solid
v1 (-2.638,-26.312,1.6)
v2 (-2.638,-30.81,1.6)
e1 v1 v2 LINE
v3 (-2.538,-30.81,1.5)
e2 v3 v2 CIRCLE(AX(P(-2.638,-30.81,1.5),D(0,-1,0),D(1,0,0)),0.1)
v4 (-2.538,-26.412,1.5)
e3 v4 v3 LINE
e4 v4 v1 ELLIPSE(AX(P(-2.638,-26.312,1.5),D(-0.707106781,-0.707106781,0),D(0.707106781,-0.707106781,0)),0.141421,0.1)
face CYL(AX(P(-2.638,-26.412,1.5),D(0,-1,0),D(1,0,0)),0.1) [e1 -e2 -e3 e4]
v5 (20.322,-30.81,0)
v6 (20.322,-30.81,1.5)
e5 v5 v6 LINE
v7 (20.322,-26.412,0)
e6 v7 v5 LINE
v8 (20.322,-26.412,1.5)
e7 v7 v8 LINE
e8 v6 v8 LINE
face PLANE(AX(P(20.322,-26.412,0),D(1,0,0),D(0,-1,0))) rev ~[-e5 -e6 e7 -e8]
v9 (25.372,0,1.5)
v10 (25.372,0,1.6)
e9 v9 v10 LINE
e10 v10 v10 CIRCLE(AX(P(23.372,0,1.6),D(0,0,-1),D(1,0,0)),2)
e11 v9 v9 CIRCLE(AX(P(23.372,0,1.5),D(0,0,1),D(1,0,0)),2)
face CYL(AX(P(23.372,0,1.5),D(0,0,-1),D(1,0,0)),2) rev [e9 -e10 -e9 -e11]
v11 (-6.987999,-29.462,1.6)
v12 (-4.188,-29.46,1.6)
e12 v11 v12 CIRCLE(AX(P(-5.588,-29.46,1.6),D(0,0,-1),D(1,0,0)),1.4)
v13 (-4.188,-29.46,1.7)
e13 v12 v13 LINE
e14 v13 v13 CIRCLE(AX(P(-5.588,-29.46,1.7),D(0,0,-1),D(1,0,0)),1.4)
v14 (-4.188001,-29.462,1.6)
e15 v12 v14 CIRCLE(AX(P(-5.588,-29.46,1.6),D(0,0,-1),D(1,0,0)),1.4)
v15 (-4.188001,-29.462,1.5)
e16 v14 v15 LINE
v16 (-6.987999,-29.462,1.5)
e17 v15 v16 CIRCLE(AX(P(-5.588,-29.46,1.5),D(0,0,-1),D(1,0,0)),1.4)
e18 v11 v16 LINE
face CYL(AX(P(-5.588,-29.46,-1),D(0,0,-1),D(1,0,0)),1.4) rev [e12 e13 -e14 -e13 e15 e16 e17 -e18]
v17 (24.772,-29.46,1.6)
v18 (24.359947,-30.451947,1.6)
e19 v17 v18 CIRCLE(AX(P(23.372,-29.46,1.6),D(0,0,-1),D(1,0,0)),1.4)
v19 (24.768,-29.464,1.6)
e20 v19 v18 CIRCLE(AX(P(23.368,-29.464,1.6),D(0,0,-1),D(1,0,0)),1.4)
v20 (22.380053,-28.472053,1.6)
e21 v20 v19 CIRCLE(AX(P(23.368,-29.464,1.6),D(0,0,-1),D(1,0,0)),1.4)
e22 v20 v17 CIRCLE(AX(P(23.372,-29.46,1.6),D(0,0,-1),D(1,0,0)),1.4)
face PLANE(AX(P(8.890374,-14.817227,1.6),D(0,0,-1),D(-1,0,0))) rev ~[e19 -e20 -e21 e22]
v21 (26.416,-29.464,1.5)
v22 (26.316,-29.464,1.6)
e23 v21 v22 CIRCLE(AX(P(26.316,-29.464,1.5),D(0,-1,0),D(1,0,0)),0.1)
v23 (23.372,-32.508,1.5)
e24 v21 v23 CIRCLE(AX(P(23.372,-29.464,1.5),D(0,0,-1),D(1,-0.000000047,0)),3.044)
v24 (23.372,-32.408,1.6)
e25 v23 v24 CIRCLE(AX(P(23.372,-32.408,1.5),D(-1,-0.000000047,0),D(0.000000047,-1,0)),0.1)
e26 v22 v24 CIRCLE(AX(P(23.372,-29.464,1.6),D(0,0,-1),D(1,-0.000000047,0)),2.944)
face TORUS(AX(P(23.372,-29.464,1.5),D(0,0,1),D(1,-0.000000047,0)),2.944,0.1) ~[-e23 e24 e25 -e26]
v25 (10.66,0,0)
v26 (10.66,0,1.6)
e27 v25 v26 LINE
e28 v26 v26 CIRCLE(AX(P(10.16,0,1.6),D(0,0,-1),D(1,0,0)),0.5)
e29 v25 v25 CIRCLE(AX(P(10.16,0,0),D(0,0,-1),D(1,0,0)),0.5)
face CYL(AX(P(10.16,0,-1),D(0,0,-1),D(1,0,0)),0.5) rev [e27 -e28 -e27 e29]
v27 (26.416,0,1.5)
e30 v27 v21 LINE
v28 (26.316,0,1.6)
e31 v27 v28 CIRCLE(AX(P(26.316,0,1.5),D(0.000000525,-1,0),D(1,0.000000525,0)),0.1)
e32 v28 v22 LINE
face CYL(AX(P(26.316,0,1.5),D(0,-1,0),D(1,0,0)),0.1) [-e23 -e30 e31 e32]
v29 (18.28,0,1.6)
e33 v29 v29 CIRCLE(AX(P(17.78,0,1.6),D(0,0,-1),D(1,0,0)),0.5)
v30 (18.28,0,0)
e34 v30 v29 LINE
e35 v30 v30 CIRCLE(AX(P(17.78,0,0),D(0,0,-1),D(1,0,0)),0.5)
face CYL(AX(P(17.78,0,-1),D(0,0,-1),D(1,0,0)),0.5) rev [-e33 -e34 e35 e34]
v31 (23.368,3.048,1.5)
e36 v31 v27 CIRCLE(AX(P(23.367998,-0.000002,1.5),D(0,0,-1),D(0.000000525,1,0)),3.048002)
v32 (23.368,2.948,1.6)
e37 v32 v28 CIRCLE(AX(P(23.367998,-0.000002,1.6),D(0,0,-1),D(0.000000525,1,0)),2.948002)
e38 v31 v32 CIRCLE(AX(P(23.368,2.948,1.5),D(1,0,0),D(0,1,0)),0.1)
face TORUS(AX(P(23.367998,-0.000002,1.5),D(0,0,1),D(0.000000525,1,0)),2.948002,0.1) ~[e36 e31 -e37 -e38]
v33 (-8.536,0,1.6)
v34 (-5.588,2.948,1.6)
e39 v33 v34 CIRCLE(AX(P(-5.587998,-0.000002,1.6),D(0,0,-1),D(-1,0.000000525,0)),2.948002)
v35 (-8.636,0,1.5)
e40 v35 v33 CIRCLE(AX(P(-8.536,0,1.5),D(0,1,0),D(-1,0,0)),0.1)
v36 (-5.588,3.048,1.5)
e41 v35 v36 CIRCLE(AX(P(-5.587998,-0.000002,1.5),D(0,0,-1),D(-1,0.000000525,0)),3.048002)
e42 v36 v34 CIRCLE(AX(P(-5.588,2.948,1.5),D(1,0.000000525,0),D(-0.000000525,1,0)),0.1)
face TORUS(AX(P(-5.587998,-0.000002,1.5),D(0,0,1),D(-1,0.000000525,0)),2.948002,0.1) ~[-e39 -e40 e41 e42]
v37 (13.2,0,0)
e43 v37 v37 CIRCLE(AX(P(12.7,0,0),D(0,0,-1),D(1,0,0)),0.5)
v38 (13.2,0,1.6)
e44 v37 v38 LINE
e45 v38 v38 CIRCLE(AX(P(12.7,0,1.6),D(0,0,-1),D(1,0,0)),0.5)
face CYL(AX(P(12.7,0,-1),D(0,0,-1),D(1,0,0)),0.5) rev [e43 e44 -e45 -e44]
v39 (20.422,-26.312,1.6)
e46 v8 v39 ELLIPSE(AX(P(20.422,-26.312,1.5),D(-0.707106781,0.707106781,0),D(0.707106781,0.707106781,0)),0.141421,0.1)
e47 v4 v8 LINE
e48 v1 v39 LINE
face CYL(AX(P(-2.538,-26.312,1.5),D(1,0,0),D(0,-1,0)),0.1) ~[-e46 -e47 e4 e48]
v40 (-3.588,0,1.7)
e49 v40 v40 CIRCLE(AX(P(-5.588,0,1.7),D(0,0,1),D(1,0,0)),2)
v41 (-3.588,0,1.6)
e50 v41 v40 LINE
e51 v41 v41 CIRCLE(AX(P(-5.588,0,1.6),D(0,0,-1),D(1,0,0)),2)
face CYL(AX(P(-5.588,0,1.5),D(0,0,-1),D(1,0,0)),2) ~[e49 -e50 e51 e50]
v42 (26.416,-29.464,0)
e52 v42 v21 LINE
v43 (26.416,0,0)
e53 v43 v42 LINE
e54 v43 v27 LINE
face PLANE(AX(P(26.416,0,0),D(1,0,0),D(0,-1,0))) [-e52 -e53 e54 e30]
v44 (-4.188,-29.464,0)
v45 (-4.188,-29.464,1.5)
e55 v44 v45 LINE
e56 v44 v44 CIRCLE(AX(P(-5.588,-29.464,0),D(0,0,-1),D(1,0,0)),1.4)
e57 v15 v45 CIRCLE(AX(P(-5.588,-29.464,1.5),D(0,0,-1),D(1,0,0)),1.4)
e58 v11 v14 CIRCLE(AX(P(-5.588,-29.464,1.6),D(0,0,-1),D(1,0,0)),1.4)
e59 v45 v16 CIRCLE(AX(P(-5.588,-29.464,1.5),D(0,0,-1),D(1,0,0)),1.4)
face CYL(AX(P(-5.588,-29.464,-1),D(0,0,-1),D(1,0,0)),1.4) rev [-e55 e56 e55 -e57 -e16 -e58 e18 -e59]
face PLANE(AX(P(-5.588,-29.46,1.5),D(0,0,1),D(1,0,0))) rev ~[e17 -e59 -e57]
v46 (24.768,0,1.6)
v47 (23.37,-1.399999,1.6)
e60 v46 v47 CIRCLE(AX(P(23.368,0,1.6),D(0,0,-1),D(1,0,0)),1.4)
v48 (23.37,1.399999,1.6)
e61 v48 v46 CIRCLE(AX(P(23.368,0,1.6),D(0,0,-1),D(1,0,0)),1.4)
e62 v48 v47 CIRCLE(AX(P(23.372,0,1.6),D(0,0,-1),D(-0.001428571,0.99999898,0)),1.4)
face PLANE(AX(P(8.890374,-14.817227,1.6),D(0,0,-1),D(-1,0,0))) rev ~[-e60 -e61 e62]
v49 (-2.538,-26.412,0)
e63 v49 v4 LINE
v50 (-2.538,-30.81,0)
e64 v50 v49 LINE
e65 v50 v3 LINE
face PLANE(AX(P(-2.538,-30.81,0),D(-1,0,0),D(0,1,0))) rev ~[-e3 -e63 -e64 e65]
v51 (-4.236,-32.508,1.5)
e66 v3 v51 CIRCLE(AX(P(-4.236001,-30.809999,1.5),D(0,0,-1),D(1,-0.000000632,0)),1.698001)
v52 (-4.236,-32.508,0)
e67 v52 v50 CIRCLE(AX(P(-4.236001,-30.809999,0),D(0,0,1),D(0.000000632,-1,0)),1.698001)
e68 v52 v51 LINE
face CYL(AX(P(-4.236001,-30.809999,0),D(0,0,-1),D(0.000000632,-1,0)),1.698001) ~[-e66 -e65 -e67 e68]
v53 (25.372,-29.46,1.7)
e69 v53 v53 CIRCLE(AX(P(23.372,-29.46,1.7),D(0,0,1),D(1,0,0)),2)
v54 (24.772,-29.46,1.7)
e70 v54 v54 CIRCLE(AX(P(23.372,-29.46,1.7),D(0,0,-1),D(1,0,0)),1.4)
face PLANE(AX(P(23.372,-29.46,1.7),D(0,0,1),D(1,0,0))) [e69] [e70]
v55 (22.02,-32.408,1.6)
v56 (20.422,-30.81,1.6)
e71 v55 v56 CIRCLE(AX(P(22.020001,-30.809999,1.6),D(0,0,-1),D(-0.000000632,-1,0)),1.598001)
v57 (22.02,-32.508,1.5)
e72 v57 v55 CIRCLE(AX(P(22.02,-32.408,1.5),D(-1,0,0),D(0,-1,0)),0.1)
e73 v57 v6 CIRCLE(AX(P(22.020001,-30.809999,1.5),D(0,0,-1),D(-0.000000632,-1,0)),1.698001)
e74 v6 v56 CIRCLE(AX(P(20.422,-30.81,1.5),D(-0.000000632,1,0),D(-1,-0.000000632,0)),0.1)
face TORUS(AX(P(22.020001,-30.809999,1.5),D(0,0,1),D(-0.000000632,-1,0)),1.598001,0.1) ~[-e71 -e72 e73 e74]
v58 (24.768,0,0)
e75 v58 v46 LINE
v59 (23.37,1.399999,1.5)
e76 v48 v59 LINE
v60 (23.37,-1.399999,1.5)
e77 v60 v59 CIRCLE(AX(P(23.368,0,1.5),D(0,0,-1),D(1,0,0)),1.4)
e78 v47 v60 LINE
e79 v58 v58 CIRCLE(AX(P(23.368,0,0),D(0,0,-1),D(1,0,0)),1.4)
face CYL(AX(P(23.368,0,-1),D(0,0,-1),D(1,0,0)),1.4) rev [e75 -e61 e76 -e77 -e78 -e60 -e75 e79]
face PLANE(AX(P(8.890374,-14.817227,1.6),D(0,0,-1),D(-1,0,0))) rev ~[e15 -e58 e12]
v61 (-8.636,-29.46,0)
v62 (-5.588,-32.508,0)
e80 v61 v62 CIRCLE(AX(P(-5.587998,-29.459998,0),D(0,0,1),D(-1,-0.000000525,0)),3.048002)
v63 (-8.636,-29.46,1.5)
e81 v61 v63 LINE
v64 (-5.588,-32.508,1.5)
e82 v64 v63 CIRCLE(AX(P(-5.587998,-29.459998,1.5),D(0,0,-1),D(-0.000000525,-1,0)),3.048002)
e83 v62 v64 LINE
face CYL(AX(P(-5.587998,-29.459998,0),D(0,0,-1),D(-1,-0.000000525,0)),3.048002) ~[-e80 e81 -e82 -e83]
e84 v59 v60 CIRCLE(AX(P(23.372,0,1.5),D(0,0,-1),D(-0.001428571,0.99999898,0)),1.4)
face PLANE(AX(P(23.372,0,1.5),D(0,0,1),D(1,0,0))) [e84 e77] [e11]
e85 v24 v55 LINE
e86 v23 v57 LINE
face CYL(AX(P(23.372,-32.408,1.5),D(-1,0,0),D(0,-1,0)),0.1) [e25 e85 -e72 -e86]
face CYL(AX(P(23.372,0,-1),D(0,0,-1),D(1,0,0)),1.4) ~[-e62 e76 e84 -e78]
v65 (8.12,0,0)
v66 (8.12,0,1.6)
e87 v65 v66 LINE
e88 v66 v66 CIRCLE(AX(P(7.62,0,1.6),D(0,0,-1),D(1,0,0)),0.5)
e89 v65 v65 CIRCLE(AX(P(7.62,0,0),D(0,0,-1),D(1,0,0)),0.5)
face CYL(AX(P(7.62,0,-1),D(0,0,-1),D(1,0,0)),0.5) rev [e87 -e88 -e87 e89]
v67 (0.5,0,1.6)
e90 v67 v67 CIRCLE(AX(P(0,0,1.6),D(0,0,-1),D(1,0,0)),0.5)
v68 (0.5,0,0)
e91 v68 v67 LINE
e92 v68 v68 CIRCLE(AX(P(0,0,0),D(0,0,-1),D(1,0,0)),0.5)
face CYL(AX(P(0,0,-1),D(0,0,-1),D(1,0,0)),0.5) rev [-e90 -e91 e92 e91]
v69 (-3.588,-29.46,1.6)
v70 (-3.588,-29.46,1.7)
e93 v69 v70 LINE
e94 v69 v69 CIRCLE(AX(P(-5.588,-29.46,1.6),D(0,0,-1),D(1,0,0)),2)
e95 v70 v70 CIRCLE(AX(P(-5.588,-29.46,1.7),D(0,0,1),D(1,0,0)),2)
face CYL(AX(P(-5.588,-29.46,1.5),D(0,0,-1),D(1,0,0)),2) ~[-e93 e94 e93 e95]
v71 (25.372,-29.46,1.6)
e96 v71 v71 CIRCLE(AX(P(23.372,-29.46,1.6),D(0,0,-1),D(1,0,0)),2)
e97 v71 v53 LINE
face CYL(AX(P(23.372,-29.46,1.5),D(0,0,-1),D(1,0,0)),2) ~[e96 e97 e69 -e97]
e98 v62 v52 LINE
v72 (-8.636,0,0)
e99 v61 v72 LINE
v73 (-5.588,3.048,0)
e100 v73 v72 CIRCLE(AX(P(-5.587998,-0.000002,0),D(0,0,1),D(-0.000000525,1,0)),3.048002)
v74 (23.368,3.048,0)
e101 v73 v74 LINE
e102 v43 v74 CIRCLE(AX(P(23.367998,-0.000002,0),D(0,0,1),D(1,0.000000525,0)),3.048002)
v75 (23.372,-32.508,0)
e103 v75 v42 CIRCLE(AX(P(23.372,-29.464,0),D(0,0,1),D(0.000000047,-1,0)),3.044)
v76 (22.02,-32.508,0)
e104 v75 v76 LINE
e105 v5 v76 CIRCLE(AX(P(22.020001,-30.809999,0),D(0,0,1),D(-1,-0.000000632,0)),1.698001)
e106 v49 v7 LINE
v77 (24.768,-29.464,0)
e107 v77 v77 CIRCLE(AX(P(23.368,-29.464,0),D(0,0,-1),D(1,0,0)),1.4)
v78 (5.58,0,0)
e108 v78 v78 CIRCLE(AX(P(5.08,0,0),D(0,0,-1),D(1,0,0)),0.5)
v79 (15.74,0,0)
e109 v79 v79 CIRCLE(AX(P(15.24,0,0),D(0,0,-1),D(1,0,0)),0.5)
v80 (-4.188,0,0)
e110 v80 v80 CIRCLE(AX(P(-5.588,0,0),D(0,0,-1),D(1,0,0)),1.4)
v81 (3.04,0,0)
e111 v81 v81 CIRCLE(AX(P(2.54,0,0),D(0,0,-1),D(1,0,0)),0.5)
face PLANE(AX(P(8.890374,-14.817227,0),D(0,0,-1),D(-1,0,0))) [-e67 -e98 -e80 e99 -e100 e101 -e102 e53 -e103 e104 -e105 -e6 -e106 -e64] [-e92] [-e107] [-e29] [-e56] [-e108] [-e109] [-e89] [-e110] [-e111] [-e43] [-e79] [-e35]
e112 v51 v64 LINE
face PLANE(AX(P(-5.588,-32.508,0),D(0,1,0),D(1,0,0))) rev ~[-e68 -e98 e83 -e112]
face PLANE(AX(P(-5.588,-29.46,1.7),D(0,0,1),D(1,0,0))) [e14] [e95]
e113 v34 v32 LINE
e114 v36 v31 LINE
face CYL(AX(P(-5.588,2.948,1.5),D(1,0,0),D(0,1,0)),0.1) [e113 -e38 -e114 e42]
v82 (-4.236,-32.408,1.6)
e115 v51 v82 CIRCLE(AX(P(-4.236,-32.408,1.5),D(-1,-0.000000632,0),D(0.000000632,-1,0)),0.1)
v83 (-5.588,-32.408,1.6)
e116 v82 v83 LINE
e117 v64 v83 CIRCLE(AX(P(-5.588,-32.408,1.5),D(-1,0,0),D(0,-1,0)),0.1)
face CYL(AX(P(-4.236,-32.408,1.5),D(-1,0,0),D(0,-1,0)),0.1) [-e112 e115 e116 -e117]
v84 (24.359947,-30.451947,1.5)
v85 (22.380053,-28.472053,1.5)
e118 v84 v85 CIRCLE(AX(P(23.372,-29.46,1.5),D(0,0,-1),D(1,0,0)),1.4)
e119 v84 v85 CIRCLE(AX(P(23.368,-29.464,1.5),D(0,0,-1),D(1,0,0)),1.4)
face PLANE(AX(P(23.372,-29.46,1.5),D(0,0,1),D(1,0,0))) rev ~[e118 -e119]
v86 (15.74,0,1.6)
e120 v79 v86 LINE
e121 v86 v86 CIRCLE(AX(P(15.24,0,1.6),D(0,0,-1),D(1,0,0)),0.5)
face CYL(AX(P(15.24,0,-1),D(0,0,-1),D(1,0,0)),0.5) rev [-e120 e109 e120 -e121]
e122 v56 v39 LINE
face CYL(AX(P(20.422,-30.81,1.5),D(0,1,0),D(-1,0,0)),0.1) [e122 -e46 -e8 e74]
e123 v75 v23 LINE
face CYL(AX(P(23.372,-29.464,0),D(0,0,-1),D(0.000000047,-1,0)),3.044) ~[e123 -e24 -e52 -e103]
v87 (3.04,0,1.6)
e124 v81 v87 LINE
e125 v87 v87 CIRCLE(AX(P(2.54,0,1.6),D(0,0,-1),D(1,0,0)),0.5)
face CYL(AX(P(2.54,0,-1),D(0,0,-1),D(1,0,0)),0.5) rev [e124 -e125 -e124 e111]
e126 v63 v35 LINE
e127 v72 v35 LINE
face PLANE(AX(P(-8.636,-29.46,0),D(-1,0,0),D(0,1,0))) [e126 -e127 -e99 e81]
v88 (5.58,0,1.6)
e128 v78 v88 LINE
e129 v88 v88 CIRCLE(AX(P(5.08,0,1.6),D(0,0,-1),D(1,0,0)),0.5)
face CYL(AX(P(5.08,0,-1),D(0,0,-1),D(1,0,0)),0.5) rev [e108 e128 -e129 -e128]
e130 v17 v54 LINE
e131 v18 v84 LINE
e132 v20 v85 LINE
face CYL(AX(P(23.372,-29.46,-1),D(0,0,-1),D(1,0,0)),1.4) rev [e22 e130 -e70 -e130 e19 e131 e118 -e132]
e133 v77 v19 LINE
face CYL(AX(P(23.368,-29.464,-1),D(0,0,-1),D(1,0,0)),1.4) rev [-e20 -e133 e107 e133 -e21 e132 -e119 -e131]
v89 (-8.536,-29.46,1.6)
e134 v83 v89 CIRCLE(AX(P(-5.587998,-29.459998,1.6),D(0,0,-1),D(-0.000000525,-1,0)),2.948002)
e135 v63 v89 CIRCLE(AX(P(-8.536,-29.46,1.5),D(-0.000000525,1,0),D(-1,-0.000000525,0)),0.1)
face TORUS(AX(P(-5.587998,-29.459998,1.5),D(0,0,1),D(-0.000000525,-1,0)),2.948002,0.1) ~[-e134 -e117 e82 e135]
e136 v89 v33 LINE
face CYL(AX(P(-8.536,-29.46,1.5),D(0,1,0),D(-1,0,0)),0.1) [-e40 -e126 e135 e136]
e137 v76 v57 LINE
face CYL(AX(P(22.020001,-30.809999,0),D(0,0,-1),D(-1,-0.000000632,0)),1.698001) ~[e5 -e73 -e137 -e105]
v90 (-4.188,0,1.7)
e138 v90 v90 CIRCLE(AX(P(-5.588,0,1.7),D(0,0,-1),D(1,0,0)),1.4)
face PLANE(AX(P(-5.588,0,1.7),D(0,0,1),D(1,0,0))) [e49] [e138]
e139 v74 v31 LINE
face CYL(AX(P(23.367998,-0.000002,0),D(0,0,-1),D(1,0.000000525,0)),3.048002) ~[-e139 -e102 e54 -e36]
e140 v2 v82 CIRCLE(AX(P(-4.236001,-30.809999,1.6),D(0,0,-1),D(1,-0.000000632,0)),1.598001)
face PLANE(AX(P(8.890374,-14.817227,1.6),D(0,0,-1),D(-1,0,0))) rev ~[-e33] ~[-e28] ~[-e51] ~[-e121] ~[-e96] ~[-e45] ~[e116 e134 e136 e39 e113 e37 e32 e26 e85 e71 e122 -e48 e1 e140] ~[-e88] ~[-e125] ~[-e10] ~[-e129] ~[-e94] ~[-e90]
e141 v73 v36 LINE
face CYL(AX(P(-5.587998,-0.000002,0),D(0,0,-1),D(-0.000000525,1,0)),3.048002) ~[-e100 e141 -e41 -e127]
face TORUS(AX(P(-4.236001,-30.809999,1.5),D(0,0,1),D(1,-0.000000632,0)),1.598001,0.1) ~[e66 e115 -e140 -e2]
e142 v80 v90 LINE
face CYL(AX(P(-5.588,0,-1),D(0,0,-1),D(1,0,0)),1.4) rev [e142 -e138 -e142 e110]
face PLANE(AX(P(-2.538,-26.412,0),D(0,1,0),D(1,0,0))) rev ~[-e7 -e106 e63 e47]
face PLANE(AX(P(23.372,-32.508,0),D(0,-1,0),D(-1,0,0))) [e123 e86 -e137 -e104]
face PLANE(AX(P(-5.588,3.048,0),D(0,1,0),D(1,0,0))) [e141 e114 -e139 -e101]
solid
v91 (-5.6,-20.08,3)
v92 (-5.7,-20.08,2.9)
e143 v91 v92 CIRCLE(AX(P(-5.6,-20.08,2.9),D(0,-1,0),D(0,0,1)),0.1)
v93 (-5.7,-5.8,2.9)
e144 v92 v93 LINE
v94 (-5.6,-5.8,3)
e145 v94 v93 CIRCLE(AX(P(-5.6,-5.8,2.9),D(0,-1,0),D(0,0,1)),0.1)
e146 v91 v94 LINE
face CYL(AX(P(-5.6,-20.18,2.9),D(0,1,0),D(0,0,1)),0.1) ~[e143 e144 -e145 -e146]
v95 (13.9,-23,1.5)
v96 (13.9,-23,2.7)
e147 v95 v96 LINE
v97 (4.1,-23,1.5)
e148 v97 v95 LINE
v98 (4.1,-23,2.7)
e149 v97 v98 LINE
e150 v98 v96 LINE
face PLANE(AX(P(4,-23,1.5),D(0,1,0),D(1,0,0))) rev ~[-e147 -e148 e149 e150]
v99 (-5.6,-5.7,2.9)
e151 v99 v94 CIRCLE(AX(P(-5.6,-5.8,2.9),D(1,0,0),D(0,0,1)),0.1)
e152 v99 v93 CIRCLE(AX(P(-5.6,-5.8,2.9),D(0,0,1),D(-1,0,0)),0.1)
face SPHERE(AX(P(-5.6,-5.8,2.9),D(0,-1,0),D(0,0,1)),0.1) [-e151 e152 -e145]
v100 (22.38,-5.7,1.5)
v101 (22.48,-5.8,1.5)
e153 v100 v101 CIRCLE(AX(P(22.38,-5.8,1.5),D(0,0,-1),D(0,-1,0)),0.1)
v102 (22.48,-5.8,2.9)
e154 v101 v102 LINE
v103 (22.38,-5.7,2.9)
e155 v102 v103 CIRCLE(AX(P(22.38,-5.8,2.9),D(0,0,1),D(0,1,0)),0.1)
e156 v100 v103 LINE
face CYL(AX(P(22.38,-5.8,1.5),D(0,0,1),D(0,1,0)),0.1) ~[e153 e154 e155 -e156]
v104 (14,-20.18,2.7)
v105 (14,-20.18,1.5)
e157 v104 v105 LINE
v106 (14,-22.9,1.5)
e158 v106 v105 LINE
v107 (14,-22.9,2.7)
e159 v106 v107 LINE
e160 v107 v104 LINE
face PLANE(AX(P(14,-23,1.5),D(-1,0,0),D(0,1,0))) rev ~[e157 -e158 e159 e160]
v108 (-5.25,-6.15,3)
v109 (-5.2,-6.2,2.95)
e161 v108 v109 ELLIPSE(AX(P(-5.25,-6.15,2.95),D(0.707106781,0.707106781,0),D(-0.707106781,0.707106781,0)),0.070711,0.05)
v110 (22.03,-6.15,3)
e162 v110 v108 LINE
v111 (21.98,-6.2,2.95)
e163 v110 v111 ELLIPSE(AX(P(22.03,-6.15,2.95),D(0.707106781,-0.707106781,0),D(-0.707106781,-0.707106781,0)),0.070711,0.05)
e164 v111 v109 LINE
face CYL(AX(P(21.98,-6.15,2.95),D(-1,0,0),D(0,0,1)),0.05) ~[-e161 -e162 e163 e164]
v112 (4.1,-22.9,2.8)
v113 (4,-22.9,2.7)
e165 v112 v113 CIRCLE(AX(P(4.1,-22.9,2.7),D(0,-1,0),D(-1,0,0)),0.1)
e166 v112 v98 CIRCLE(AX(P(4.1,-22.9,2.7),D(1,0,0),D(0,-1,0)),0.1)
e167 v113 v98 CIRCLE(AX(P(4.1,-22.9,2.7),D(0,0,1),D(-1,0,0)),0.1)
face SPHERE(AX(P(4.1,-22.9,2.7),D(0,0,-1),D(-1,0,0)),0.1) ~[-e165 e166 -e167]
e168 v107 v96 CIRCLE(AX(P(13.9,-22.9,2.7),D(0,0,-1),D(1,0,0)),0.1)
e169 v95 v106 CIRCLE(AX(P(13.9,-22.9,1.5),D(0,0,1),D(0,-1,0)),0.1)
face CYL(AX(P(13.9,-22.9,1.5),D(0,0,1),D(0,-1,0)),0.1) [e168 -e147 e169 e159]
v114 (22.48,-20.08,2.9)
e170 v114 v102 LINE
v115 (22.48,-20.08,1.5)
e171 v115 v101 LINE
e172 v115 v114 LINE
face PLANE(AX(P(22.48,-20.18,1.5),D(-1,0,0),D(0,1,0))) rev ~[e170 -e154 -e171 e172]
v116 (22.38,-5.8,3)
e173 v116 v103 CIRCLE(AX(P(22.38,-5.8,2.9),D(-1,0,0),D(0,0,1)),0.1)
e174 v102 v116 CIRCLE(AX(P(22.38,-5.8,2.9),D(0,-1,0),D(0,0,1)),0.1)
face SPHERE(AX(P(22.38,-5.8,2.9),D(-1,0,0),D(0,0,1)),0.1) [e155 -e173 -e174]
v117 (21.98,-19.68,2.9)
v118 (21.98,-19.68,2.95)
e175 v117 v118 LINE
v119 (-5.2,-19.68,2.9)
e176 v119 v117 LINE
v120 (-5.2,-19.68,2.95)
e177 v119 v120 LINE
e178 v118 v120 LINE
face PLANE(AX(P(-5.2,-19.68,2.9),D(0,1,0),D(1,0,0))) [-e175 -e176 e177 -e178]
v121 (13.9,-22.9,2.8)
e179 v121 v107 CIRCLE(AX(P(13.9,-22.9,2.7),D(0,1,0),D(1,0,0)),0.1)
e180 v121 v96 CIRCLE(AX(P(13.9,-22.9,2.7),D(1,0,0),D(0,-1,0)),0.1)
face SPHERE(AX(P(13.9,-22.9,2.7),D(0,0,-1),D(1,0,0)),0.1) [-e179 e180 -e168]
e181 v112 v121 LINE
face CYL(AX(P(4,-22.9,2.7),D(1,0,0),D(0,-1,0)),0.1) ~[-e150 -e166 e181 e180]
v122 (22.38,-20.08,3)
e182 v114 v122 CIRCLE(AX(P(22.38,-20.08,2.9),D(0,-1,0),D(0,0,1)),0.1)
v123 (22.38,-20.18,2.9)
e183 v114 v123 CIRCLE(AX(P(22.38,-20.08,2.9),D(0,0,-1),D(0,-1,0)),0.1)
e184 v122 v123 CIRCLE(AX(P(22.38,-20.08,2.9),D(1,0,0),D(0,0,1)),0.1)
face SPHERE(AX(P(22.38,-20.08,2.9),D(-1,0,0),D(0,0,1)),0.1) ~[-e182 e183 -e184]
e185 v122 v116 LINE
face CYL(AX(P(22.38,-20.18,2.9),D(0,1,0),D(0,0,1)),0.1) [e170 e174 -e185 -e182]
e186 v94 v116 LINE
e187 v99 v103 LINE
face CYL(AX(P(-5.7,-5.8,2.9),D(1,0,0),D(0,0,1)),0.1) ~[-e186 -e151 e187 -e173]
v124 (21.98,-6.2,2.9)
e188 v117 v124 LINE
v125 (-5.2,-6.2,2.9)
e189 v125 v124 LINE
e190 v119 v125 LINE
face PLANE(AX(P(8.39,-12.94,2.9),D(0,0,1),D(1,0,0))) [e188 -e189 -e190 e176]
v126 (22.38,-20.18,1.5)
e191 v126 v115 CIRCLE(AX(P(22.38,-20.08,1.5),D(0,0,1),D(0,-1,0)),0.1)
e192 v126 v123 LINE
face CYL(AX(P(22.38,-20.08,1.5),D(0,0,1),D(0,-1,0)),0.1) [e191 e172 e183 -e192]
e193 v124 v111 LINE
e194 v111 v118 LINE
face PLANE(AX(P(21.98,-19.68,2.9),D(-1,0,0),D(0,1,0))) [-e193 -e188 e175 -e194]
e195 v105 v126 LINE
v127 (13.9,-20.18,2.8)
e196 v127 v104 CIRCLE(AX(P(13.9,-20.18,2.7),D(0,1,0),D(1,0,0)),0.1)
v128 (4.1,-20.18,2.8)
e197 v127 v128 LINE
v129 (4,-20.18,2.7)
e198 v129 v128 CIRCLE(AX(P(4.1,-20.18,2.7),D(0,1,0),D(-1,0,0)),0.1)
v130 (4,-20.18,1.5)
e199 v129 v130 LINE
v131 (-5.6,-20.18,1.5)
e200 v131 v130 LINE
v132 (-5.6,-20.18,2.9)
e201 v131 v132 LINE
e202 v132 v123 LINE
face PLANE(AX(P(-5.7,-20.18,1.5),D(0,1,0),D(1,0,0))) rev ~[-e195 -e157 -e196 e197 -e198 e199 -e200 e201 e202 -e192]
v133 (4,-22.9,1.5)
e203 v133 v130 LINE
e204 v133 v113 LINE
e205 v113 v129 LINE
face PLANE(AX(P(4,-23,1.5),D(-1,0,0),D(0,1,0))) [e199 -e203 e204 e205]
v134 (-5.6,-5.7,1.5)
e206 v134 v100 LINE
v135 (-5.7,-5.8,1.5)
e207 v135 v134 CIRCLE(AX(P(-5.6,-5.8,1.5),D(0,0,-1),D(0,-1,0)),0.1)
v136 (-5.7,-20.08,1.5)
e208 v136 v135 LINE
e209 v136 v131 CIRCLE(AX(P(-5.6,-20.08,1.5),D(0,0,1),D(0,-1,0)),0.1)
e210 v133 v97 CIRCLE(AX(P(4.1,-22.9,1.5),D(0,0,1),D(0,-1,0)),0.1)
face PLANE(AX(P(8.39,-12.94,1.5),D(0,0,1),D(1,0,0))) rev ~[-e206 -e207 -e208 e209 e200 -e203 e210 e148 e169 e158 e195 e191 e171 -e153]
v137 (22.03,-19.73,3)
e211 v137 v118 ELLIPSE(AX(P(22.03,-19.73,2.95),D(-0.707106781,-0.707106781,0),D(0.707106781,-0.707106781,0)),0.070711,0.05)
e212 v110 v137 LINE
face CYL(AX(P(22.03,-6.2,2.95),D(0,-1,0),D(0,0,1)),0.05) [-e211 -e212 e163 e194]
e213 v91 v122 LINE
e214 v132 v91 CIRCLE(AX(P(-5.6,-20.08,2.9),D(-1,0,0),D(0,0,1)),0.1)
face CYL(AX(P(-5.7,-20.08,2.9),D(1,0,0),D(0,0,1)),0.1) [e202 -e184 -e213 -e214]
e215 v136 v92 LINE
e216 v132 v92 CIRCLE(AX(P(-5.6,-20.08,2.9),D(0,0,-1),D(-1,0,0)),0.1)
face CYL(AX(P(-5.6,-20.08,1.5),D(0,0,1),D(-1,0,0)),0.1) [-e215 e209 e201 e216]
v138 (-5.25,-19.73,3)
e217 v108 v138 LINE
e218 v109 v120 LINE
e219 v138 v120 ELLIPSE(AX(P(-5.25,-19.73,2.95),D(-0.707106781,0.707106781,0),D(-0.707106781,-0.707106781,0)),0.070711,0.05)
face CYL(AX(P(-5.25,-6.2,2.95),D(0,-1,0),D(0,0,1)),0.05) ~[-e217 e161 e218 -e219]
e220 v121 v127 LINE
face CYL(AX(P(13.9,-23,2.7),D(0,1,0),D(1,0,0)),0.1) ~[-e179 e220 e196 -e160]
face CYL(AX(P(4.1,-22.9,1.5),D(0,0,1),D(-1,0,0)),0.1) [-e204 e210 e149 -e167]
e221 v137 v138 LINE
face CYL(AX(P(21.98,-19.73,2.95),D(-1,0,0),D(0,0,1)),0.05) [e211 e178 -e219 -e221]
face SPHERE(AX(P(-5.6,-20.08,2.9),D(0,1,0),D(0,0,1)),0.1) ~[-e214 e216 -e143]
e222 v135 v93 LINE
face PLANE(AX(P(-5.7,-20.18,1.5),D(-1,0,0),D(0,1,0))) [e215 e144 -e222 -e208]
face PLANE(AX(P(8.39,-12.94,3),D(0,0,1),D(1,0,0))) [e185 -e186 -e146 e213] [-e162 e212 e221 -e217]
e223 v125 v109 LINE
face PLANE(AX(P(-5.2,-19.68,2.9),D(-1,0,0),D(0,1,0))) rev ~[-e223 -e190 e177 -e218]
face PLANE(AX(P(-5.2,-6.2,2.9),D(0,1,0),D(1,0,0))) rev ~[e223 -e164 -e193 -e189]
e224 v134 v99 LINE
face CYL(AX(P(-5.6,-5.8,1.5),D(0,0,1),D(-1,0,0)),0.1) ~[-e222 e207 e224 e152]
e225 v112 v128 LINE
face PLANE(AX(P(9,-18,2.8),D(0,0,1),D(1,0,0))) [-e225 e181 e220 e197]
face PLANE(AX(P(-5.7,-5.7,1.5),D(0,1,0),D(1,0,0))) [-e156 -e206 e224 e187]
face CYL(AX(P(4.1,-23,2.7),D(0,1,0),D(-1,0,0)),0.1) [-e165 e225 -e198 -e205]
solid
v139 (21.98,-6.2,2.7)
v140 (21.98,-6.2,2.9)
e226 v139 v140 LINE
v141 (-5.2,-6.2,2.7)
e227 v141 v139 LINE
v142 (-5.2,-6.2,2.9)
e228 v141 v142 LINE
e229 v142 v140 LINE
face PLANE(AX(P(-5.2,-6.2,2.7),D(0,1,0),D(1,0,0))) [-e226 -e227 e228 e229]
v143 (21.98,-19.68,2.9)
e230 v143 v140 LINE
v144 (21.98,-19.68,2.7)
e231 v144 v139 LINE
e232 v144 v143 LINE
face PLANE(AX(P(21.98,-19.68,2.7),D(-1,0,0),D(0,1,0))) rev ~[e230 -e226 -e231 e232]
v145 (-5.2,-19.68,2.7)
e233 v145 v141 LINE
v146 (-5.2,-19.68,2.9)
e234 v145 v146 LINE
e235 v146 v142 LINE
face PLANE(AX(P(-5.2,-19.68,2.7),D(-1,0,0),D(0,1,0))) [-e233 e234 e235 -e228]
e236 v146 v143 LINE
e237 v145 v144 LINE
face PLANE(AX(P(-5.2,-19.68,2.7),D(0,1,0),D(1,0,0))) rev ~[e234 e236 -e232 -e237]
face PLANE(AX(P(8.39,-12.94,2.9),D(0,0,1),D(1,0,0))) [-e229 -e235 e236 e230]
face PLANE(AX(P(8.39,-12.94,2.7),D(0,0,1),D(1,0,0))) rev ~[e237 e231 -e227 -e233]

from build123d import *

# Parameters (mm, degrees)
BOX_W             = 27.18
BOX_H             = 13.48
BOX_DEPTH         = 0.2
BOX002_W          = 27.18
BOX002_H          = 13.48
BOX002_DEPTH      = 0.2
BOX001_W          = 28.18
BOX001_H          = 14.48
BOX001_DEPTH      = 1.5
FILLET_R          = 0.05
FILLET001_R       = 0.1
BOX003_W          = 10
BOX003_H          = 10
BOX003_DEPTH      = 1.3
FILLET002_R       = 0.1
CYLINDER011_R     = 0.5
CYLINDER011_DEPTH = 4
CYLINDER010_R     = 0.5
CYLINDER010_DEPTH = 4
CYLINDER009_R     = 0.5
CYLINDER009_DEPTH = 4
CYLINDER008_R     = 0.5
CYLINDER008_DEPTH = 4
CYLINDER007_R     = 0.5
CYLINDER007_DEPTH = 4
CYLINDER005_R     = 0.5
CYLINDER005_DEPTH = 4
CYLINDER006_R     = 0.5
CYLINDER006_DEPTH = 4
CYLINDER004_R     = 0.5
CYLINDER004_DEPTH = 4
CYLINDER012_R     = 1.4
CYLINDER012_DEPTH = 4
CYLINDER016_R     = 2
CYLINDER016_DEPTH = 0.2
CYLINDER017_R     = 1.4
CYLINDER017_DEPTH = 4
CYLINDER018_R     = 2
CYLINDER018_DEPTH = 0.2
CYLINDER019_R     = 1.4
CYLINDER019_DEPTH = 4
CYLINDER020_R     = 2
CYLINDER020_DEPTH = 0.2
CYLINDER021_R     = 1.4
CYLINDER021_DEPTH = 4
CYLINDER022_R     = 2
CYLINDER022_DEPTH = 0.2
CYLINDER_R        = 1.4
CYLINDER_DEPTH    = 4
CYLINDER001_R     = 1.4
CYLINDER001_DEPTH = 4
CYLINDER002_R     = 1.4
CYLINDER002_DEPTH = 4
CYLINDER003_R     = 1.4
CYLINDER003_DEPTH = 4
PAD_DEPTH         = 1.6
FILLET003_R       = 0.1


with BuildPart() as display:
    # Box → Box (new body)
    with BuildSketch(Plane(origin=(-5.2, -19.68, 2.7), x_dir=(1, 0, 0), z_dir=(0, 0, 1))):
        with Locations((13.59, 6.74)):
            Rectangle(BOX_W, BOX_H)
    extrude(amount=BOX_DEPTH)


with BuildPart() as kub002:
    # Box002 → Box002 (new body)
    with BuildSketch(Plane(origin=(-5.2, -19.68, 2.9), x_dir=(1, 0, 0), z_dir=(0, 0, 1))):
        with Locations((13.59, 6.74)):
            Rectangle(BOX002_W, BOX002_H)
    extrude(amount=BOX002_DEPTH)


with BuildPart() as fillet001:
    # Box001 → Box001 (new body)
    with BuildSketch(Plane(origin=(-5.7, -20.18, 1.5), x_dir=(1, 0, 0), z_dir=(0, 0, 1))):
        with Locations((14.09, 7.24)):
            Rectangle(BOX001_W, BOX001_H)
    extrude(amount=BOX001_DEPTH)

    # Cut: cut Kub002
    add(kub002.part, mode=Mode.SUBTRACT)

    # Fillet
    fillet_edges = [fillet001.edges().sort_by_distance(p)[0] for p in [
        (21.98, -12.94, 3),
        (8.39, -6.2, 3),
        (-5.2, -12.94, 3),
        (8.39, -19.68, 3),
    ]]
    fillet(fillet_edges, radius=FILLET_R)

    # Fillet001
    fillet001_edges = [fillet001.edges().sort_by_distance(p)[0] for p in [
        (-5.7, -12.94, 3),
        (8.39, -5.7, 3),
        (8.39, -20.18, 3),
        (22.48, -12.94, 3),
        (-5.7, -20.18, 2.25),
        (-5.7, -5.7, 2.25),
        (22.48, -5.7, 2.25),
        (22.48, -20.18, 2.25),
    ]]
    fillet(fillet001_edges, radius=FILLET001_R)


with BuildPart() as display_frame:
    # Box003 → Box003 (new body)
    with BuildSketch(Plane(origin=(4, -23, 1.5), x_dir=(1, 0, 0), z_dir=(0, 0, 1))):
        with Locations((5, 5)):
            Rectangle(BOX003_W, BOX003_H)
    extrude(amount=BOX003_DEPTH)

    # Fillet002
    fillet002_edges = [display_frame.edges().sort_by_distance(p)[0] for p in [
        (4, -23, 2.15),
        (4, -18, 2.8),
        (14, -23, 2.15),
        (14, -18, 2.8),
        (9, -23, 2.8),
    ]]
    fillet(fillet002_edges, radius=FILLET002_R)

    # Fusion: union Fillet001
    add(fillet001.part)


with BuildPart() as pin008:
    # Cylinder011 → Cylinder011 (new body)
    with BuildSketch(Plane(origin=(17.78, 0, -1), x_dir=(1, 0, 0), z_dir=(0, 0, 1))):
        Circle(CYLINDER011_R)
    extrude(amount=CYLINDER011_DEPTH)


with BuildPart() as pin007:
    # Cylinder010 → Cylinder010 (new body)
    with BuildSketch(Plane(origin=(15.24, 0, -1), x_dir=(1, 0, 0), z_dir=(0, 0, 1))):
        Circle(CYLINDER010_R)
    extrude(amount=CYLINDER010_DEPTH)


with BuildPart() as pin006:
    # Cylinder009 → Cylinder009 (new body)
    with BuildSketch(Plane(origin=(12.7, 0, -1), x_dir=(1, 0, 0), z_dir=(0, 0, 1))):
        Circle(CYLINDER009_R)
    extrude(amount=CYLINDER009_DEPTH)


with BuildPart() as pin005:
    # Cylinder008 → Cylinder008 (new body)
    with BuildSketch(Plane(origin=(10.16, 0, -1), x_dir=(1, 0, 0), z_dir=(0, 0, 1))):
        Circle(CYLINDER008_R)
    extrude(amount=CYLINDER008_DEPTH)


with BuildPart() as pin004:
    # Cylinder007 → Cylinder007 (new body)
    with BuildSketch(Plane(origin=(7.62, 0, -1), x_dir=(1, 0, 0), z_dir=(0, 0, 1))):
        Circle(CYLINDER007_R)
    extrude(amount=CYLINDER007_DEPTH)


with BuildPart() as pin002:
    # Cylinder005 → Cylinder005 (new body)
    with BuildSketch(Plane(origin=(2.54, 0, -1), x_dir=(1, 0, 0), z_dir=(0, 0, 1))):
        Circle(CYLINDER005_R)
    extrude(amount=CYLINDER005_DEPTH)


with BuildPart() as pin003:
    # Cylinder006 → Cylinder006 (new body)
    with BuildSketch(Plane(origin=(5.08, 0, -1), x_dir=(1, 0, 0), z_dir=(0, 0, 1))):
        Circle(CYLINDER006_R)
    extrude(amount=CYLINDER006_DEPTH)


with BuildPart() as pin001:
    # Cylinder004 → Cylinder004 (new body)
    with BuildSketch(Plane.XY.offset(-1)):
        Circle(CYLINDER004_R)
    extrude(amount=CYLINDER004_DEPTH)


with BuildPart() as cylinder012:
    # Cylinder012 → Cylinder012 (new body)
    with BuildSketch(Plane(origin=(-5.588, 0, -1), x_dir=(1, 0, 0), z_dir=(0, 0, 1))):
        Circle(CYLINDER012_R)
    extrude(amount=CYLINDER012_DEPTH)


with BuildPart() as cut005:
    # Cylinder016 → Cylinder016 (new body)
    with BuildSketch(Plane(origin=(-5.588, 0, 1.5), x_dir=(1, 0, 0), z_dir=(0, 0, 1))):
        Circle(CYLINDER016_R)
    extrude(amount=CYLINDER016_DEPTH)

    # Cut005: cut Cylinder012
    add(cylinder012.part, mode=Mode.SUBTRACT)


with BuildPart() as cylinder017:
    # Cylinder017 → Cylinder017 (new body)
    with BuildSketch(Plane(origin=(-5.588, 0, -1), x_dir=(1, 0, 0), z_dir=(0, 0, 1))):
        Circle(CYLINDER017_R)
    extrude(amount=CYLINDER017_DEPTH)


with BuildPart() as cut006:
    # Cylinder018 → Cylinder018 (new body)
    with BuildSketch(Plane(origin=(-5.588, 0, 1.5), x_dir=(1, 0, 0), z_dir=(0, 0, 1))):
        Circle(CYLINDER018_R)
    extrude(amount=CYLINDER018_DEPTH)

    # Cut006: cut Cylinder017
    add(cylinder017.part, mode=Mode.SUBTRACT)


with BuildPart() as cut006_1:
    # Cut006 placement: moved
    add(cut006.part.moved(Location((28.96, 0, 0))))


with BuildPart() as cylinder019:
    # Cylinder019 → Cylinder019 (new body)
    with BuildSketch(Plane(origin=(-5.588, 0, -1), x_dir=(1, 0, 0), z_dir=(0, 0, 1))):
        Circle(CYLINDER019_R)
    extrude(amount=CYLINDER019_DEPTH)


with BuildPart() as cut007:
    # Cylinder020 → Cylinder020 (new body)
    with BuildSketch(Plane(origin=(-5.588, 0, 1.5), x_dir=(1, 0, 0), z_dir=(0, 0, 1))):
        Circle(CYLINDER020_R)
    extrude(amount=CYLINDER020_DEPTH)

    # Cut007: cut Cylinder019
    add(cylinder019.part, mode=Mode.SUBTRACT)


with BuildPart() as cut007_1:
    # Cut007 placement: moved
    add(cut007.part.moved(Location((0, -29.46, 0))))


with BuildPart() as cylinder021:
    # Cylinder021 → Cylinder021 (new body)
    with BuildSketch(Plane(origin=(-5.588, 0, -1), x_dir=(1, 0, 0), z_dir=(0, 0, 1))):
        Circle(CYLINDER021_R)
    extrude(amount=CYLINDER021_DEPTH)


with BuildPart() as cut008:
    # Cylinder022 → Cylinder022 (new body)
    with BuildSketch(Plane(origin=(-5.588, 0, 1.5), x_dir=(1, 0, 0), z_dir=(0, 0, 1))):
        Circle(CYLINDER022_R)
    extrude(amount=CYLINDER022_DEPTH)

    # Cut008: cut Cylinder021
    add(cylinder021.part, mode=Mode.SUBTRACT)


with BuildPart() as cut008_1:
    # Cut008 placement: moved
    add(cut008.part.moved(Location((28.96, -29.46, 0))))


with BuildPart() as cylinder:
    # Cylinder → Cylinder (new body)
    with BuildSketch(Plane(origin=(-5.588, 0, -1), x_dir=(1, 0, 0), z_dir=(0, 0, 1))):
        Circle(CYLINDER_R)
    extrude(amount=CYLINDER_DEPTH)


with BuildPart() as cylinder001:
    # Cylinder001 → Cylinder001 (new body)
    with BuildSketch(Plane(origin=(23.368, -29.464, -1), x_dir=(1, 0, 0), z_dir=(0, 0, 1))):
        Circle(CYLINDER001_R)
    extrude(amount=CYLINDER001_DEPTH)


with BuildPart() as cylinder002:
    # Cylinder002 → Cylinder002 (new body)
    with BuildSketch(Plane(origin=(23.368, 0, -1), x_dir=(1, 0, 0), z_dir=(0, 0, 1))):
        Circle(CYLINDER002_R)
    extrude(amount=CYLINDER002_DEPTH)


with BuildPart() as cylinder003:
    # Cylinder003 → Cylinder003 (new body)
    with BuildSketch(Plane(origin=(-5.588, -29.464, -1), x_dir=(1, 0, 0), z_dir=(0, 0, 1))):
        Circle(CYLINDER003_R)
    extrude(amount=CYLINDER003_DEPTH)


with BuildPart() as fillet003:
    # Sketch → Pad (new body)
    with BuildSketch(Plane.XY):
        with BuildLine():
            Line((26.416, 0), (26.416, -29.464))
            ThreePointArc((23.372, -32.508), (25.524433, -31.616433), (26.416, -29.464))
            Line((23.372, -32.508), (22.02, -32.508))
            ThreePointArc((20.322, -30.81), (20.819333, -32.010667), (22.02, -32.508))
            Line((20.322, -26.412), (20.322, -30.81))
            Line((-2.538, -26.412), (20.322, -26.412))
            Line((-2.538, -30.81), (-2.538, -26.412))
            ThreePointArc((-4.236, -32.508), (-3.035333, -32.010667), (-2.538, -30.81))
            Line((-5.588, -32.508), (-4.236, -32.508))
            ThreePointArc((-8.636, -29.46), (-7.743261, -31.615261), (-5.588, -32.508))
            Line((-8.636, -29.46), (-8.636, 0))
            ThreePointArc((-5.588, 3.048), (-7.743261, 2.155261), (-8.636, 0))
            Line((-5.588, 3.048), (23.368, 3.048))
            ThreePointArc((26.416, 0), (25.523261, 2.155261), (23.368, 3.048))
        make_face()
    extrude(amount=PAD_DEPTH)

    # Cut001: cut Cylinder003
    add(cylinder003.part, mode=Mode.SUBTRACT)

    # Cut002: cut Cylinder002
    add(cylinder002.part, mode=Mode.SUBTRACT)

    # Cut003: cut Cylinder001
    add(cylinder001.part, mode=Mode.SUBTRACT)

    # Cut004: cut Cylinder
    add(cylinder.part, mode=Mode.SUBTRACT)

    # Fusion001: union Cut008
    add(cut008_1.part)

    # Fusion002: union Cut007
    add(cut007_1.part)

    # Cut009: cut Cut006
    add(cut006_1.part, mode=Mode.SUBTRACT)

    # Fusion003: union Cut005
    add(cut005.part)

    # Cut010: cut Pin001
    add(pin001.part, mode=Mode.SUBTRACT)

    # Cut011: cut Pin003
    add(pin003.part, mode=Mode.SUBTRACT)

    # Cut012: cut Pin002
    add(pin002.part, mode=Mode.SUBTRACT)

    # Cut013: cut Pin004
    add(pin004.part, mode=Mode.SUBTRACT)

    # Cut014: cut Pin005
    add(pin005.part, mode=Mode.SUBTRACT)

    # Cut015: cut Pin006
    add(pin006.part, mode=Mode.SUBTRACT)

    # Cut016: cut Pin007
    add(pin007.part, mode=Mode.SUBTRACT)

    # Cut017: cut Pin008
    add(pin008.part, mode=Mode.SUBTRACT)

    # Fillet003
    fillet003_edges = [fillet003.edges().sort_by_distance(p)[0] for p in [
        (26.416, -14.732, 1.6),
        (25.523261, 2.155261, 1.6),
        (25.524433, -31.616433, 1.6),
        (8.89, 3.048, 1.6),
        (22.696, -32.508, 1.6),
        (-7.743261, 2.155261, 1.6),
        (20.819333, -32.010667, 1.6),
        (-8.636, -14.73, 1.6),
        (20.322, -28.611, 1.6),
        (-7.743261, -31.615261, 1.6),
        (8.892, -26.412, 1.6),
        (-4.912, -32.508, 1.6),
        (-2.538, -28.611, 1.6),
        (-3.035333, -32.010667, 1.6),
    ]]
    fillet(fillet003_edges, radius=FILLET003_R)


solid = Compound([display.part, display_frame.part, fillet003.part])
